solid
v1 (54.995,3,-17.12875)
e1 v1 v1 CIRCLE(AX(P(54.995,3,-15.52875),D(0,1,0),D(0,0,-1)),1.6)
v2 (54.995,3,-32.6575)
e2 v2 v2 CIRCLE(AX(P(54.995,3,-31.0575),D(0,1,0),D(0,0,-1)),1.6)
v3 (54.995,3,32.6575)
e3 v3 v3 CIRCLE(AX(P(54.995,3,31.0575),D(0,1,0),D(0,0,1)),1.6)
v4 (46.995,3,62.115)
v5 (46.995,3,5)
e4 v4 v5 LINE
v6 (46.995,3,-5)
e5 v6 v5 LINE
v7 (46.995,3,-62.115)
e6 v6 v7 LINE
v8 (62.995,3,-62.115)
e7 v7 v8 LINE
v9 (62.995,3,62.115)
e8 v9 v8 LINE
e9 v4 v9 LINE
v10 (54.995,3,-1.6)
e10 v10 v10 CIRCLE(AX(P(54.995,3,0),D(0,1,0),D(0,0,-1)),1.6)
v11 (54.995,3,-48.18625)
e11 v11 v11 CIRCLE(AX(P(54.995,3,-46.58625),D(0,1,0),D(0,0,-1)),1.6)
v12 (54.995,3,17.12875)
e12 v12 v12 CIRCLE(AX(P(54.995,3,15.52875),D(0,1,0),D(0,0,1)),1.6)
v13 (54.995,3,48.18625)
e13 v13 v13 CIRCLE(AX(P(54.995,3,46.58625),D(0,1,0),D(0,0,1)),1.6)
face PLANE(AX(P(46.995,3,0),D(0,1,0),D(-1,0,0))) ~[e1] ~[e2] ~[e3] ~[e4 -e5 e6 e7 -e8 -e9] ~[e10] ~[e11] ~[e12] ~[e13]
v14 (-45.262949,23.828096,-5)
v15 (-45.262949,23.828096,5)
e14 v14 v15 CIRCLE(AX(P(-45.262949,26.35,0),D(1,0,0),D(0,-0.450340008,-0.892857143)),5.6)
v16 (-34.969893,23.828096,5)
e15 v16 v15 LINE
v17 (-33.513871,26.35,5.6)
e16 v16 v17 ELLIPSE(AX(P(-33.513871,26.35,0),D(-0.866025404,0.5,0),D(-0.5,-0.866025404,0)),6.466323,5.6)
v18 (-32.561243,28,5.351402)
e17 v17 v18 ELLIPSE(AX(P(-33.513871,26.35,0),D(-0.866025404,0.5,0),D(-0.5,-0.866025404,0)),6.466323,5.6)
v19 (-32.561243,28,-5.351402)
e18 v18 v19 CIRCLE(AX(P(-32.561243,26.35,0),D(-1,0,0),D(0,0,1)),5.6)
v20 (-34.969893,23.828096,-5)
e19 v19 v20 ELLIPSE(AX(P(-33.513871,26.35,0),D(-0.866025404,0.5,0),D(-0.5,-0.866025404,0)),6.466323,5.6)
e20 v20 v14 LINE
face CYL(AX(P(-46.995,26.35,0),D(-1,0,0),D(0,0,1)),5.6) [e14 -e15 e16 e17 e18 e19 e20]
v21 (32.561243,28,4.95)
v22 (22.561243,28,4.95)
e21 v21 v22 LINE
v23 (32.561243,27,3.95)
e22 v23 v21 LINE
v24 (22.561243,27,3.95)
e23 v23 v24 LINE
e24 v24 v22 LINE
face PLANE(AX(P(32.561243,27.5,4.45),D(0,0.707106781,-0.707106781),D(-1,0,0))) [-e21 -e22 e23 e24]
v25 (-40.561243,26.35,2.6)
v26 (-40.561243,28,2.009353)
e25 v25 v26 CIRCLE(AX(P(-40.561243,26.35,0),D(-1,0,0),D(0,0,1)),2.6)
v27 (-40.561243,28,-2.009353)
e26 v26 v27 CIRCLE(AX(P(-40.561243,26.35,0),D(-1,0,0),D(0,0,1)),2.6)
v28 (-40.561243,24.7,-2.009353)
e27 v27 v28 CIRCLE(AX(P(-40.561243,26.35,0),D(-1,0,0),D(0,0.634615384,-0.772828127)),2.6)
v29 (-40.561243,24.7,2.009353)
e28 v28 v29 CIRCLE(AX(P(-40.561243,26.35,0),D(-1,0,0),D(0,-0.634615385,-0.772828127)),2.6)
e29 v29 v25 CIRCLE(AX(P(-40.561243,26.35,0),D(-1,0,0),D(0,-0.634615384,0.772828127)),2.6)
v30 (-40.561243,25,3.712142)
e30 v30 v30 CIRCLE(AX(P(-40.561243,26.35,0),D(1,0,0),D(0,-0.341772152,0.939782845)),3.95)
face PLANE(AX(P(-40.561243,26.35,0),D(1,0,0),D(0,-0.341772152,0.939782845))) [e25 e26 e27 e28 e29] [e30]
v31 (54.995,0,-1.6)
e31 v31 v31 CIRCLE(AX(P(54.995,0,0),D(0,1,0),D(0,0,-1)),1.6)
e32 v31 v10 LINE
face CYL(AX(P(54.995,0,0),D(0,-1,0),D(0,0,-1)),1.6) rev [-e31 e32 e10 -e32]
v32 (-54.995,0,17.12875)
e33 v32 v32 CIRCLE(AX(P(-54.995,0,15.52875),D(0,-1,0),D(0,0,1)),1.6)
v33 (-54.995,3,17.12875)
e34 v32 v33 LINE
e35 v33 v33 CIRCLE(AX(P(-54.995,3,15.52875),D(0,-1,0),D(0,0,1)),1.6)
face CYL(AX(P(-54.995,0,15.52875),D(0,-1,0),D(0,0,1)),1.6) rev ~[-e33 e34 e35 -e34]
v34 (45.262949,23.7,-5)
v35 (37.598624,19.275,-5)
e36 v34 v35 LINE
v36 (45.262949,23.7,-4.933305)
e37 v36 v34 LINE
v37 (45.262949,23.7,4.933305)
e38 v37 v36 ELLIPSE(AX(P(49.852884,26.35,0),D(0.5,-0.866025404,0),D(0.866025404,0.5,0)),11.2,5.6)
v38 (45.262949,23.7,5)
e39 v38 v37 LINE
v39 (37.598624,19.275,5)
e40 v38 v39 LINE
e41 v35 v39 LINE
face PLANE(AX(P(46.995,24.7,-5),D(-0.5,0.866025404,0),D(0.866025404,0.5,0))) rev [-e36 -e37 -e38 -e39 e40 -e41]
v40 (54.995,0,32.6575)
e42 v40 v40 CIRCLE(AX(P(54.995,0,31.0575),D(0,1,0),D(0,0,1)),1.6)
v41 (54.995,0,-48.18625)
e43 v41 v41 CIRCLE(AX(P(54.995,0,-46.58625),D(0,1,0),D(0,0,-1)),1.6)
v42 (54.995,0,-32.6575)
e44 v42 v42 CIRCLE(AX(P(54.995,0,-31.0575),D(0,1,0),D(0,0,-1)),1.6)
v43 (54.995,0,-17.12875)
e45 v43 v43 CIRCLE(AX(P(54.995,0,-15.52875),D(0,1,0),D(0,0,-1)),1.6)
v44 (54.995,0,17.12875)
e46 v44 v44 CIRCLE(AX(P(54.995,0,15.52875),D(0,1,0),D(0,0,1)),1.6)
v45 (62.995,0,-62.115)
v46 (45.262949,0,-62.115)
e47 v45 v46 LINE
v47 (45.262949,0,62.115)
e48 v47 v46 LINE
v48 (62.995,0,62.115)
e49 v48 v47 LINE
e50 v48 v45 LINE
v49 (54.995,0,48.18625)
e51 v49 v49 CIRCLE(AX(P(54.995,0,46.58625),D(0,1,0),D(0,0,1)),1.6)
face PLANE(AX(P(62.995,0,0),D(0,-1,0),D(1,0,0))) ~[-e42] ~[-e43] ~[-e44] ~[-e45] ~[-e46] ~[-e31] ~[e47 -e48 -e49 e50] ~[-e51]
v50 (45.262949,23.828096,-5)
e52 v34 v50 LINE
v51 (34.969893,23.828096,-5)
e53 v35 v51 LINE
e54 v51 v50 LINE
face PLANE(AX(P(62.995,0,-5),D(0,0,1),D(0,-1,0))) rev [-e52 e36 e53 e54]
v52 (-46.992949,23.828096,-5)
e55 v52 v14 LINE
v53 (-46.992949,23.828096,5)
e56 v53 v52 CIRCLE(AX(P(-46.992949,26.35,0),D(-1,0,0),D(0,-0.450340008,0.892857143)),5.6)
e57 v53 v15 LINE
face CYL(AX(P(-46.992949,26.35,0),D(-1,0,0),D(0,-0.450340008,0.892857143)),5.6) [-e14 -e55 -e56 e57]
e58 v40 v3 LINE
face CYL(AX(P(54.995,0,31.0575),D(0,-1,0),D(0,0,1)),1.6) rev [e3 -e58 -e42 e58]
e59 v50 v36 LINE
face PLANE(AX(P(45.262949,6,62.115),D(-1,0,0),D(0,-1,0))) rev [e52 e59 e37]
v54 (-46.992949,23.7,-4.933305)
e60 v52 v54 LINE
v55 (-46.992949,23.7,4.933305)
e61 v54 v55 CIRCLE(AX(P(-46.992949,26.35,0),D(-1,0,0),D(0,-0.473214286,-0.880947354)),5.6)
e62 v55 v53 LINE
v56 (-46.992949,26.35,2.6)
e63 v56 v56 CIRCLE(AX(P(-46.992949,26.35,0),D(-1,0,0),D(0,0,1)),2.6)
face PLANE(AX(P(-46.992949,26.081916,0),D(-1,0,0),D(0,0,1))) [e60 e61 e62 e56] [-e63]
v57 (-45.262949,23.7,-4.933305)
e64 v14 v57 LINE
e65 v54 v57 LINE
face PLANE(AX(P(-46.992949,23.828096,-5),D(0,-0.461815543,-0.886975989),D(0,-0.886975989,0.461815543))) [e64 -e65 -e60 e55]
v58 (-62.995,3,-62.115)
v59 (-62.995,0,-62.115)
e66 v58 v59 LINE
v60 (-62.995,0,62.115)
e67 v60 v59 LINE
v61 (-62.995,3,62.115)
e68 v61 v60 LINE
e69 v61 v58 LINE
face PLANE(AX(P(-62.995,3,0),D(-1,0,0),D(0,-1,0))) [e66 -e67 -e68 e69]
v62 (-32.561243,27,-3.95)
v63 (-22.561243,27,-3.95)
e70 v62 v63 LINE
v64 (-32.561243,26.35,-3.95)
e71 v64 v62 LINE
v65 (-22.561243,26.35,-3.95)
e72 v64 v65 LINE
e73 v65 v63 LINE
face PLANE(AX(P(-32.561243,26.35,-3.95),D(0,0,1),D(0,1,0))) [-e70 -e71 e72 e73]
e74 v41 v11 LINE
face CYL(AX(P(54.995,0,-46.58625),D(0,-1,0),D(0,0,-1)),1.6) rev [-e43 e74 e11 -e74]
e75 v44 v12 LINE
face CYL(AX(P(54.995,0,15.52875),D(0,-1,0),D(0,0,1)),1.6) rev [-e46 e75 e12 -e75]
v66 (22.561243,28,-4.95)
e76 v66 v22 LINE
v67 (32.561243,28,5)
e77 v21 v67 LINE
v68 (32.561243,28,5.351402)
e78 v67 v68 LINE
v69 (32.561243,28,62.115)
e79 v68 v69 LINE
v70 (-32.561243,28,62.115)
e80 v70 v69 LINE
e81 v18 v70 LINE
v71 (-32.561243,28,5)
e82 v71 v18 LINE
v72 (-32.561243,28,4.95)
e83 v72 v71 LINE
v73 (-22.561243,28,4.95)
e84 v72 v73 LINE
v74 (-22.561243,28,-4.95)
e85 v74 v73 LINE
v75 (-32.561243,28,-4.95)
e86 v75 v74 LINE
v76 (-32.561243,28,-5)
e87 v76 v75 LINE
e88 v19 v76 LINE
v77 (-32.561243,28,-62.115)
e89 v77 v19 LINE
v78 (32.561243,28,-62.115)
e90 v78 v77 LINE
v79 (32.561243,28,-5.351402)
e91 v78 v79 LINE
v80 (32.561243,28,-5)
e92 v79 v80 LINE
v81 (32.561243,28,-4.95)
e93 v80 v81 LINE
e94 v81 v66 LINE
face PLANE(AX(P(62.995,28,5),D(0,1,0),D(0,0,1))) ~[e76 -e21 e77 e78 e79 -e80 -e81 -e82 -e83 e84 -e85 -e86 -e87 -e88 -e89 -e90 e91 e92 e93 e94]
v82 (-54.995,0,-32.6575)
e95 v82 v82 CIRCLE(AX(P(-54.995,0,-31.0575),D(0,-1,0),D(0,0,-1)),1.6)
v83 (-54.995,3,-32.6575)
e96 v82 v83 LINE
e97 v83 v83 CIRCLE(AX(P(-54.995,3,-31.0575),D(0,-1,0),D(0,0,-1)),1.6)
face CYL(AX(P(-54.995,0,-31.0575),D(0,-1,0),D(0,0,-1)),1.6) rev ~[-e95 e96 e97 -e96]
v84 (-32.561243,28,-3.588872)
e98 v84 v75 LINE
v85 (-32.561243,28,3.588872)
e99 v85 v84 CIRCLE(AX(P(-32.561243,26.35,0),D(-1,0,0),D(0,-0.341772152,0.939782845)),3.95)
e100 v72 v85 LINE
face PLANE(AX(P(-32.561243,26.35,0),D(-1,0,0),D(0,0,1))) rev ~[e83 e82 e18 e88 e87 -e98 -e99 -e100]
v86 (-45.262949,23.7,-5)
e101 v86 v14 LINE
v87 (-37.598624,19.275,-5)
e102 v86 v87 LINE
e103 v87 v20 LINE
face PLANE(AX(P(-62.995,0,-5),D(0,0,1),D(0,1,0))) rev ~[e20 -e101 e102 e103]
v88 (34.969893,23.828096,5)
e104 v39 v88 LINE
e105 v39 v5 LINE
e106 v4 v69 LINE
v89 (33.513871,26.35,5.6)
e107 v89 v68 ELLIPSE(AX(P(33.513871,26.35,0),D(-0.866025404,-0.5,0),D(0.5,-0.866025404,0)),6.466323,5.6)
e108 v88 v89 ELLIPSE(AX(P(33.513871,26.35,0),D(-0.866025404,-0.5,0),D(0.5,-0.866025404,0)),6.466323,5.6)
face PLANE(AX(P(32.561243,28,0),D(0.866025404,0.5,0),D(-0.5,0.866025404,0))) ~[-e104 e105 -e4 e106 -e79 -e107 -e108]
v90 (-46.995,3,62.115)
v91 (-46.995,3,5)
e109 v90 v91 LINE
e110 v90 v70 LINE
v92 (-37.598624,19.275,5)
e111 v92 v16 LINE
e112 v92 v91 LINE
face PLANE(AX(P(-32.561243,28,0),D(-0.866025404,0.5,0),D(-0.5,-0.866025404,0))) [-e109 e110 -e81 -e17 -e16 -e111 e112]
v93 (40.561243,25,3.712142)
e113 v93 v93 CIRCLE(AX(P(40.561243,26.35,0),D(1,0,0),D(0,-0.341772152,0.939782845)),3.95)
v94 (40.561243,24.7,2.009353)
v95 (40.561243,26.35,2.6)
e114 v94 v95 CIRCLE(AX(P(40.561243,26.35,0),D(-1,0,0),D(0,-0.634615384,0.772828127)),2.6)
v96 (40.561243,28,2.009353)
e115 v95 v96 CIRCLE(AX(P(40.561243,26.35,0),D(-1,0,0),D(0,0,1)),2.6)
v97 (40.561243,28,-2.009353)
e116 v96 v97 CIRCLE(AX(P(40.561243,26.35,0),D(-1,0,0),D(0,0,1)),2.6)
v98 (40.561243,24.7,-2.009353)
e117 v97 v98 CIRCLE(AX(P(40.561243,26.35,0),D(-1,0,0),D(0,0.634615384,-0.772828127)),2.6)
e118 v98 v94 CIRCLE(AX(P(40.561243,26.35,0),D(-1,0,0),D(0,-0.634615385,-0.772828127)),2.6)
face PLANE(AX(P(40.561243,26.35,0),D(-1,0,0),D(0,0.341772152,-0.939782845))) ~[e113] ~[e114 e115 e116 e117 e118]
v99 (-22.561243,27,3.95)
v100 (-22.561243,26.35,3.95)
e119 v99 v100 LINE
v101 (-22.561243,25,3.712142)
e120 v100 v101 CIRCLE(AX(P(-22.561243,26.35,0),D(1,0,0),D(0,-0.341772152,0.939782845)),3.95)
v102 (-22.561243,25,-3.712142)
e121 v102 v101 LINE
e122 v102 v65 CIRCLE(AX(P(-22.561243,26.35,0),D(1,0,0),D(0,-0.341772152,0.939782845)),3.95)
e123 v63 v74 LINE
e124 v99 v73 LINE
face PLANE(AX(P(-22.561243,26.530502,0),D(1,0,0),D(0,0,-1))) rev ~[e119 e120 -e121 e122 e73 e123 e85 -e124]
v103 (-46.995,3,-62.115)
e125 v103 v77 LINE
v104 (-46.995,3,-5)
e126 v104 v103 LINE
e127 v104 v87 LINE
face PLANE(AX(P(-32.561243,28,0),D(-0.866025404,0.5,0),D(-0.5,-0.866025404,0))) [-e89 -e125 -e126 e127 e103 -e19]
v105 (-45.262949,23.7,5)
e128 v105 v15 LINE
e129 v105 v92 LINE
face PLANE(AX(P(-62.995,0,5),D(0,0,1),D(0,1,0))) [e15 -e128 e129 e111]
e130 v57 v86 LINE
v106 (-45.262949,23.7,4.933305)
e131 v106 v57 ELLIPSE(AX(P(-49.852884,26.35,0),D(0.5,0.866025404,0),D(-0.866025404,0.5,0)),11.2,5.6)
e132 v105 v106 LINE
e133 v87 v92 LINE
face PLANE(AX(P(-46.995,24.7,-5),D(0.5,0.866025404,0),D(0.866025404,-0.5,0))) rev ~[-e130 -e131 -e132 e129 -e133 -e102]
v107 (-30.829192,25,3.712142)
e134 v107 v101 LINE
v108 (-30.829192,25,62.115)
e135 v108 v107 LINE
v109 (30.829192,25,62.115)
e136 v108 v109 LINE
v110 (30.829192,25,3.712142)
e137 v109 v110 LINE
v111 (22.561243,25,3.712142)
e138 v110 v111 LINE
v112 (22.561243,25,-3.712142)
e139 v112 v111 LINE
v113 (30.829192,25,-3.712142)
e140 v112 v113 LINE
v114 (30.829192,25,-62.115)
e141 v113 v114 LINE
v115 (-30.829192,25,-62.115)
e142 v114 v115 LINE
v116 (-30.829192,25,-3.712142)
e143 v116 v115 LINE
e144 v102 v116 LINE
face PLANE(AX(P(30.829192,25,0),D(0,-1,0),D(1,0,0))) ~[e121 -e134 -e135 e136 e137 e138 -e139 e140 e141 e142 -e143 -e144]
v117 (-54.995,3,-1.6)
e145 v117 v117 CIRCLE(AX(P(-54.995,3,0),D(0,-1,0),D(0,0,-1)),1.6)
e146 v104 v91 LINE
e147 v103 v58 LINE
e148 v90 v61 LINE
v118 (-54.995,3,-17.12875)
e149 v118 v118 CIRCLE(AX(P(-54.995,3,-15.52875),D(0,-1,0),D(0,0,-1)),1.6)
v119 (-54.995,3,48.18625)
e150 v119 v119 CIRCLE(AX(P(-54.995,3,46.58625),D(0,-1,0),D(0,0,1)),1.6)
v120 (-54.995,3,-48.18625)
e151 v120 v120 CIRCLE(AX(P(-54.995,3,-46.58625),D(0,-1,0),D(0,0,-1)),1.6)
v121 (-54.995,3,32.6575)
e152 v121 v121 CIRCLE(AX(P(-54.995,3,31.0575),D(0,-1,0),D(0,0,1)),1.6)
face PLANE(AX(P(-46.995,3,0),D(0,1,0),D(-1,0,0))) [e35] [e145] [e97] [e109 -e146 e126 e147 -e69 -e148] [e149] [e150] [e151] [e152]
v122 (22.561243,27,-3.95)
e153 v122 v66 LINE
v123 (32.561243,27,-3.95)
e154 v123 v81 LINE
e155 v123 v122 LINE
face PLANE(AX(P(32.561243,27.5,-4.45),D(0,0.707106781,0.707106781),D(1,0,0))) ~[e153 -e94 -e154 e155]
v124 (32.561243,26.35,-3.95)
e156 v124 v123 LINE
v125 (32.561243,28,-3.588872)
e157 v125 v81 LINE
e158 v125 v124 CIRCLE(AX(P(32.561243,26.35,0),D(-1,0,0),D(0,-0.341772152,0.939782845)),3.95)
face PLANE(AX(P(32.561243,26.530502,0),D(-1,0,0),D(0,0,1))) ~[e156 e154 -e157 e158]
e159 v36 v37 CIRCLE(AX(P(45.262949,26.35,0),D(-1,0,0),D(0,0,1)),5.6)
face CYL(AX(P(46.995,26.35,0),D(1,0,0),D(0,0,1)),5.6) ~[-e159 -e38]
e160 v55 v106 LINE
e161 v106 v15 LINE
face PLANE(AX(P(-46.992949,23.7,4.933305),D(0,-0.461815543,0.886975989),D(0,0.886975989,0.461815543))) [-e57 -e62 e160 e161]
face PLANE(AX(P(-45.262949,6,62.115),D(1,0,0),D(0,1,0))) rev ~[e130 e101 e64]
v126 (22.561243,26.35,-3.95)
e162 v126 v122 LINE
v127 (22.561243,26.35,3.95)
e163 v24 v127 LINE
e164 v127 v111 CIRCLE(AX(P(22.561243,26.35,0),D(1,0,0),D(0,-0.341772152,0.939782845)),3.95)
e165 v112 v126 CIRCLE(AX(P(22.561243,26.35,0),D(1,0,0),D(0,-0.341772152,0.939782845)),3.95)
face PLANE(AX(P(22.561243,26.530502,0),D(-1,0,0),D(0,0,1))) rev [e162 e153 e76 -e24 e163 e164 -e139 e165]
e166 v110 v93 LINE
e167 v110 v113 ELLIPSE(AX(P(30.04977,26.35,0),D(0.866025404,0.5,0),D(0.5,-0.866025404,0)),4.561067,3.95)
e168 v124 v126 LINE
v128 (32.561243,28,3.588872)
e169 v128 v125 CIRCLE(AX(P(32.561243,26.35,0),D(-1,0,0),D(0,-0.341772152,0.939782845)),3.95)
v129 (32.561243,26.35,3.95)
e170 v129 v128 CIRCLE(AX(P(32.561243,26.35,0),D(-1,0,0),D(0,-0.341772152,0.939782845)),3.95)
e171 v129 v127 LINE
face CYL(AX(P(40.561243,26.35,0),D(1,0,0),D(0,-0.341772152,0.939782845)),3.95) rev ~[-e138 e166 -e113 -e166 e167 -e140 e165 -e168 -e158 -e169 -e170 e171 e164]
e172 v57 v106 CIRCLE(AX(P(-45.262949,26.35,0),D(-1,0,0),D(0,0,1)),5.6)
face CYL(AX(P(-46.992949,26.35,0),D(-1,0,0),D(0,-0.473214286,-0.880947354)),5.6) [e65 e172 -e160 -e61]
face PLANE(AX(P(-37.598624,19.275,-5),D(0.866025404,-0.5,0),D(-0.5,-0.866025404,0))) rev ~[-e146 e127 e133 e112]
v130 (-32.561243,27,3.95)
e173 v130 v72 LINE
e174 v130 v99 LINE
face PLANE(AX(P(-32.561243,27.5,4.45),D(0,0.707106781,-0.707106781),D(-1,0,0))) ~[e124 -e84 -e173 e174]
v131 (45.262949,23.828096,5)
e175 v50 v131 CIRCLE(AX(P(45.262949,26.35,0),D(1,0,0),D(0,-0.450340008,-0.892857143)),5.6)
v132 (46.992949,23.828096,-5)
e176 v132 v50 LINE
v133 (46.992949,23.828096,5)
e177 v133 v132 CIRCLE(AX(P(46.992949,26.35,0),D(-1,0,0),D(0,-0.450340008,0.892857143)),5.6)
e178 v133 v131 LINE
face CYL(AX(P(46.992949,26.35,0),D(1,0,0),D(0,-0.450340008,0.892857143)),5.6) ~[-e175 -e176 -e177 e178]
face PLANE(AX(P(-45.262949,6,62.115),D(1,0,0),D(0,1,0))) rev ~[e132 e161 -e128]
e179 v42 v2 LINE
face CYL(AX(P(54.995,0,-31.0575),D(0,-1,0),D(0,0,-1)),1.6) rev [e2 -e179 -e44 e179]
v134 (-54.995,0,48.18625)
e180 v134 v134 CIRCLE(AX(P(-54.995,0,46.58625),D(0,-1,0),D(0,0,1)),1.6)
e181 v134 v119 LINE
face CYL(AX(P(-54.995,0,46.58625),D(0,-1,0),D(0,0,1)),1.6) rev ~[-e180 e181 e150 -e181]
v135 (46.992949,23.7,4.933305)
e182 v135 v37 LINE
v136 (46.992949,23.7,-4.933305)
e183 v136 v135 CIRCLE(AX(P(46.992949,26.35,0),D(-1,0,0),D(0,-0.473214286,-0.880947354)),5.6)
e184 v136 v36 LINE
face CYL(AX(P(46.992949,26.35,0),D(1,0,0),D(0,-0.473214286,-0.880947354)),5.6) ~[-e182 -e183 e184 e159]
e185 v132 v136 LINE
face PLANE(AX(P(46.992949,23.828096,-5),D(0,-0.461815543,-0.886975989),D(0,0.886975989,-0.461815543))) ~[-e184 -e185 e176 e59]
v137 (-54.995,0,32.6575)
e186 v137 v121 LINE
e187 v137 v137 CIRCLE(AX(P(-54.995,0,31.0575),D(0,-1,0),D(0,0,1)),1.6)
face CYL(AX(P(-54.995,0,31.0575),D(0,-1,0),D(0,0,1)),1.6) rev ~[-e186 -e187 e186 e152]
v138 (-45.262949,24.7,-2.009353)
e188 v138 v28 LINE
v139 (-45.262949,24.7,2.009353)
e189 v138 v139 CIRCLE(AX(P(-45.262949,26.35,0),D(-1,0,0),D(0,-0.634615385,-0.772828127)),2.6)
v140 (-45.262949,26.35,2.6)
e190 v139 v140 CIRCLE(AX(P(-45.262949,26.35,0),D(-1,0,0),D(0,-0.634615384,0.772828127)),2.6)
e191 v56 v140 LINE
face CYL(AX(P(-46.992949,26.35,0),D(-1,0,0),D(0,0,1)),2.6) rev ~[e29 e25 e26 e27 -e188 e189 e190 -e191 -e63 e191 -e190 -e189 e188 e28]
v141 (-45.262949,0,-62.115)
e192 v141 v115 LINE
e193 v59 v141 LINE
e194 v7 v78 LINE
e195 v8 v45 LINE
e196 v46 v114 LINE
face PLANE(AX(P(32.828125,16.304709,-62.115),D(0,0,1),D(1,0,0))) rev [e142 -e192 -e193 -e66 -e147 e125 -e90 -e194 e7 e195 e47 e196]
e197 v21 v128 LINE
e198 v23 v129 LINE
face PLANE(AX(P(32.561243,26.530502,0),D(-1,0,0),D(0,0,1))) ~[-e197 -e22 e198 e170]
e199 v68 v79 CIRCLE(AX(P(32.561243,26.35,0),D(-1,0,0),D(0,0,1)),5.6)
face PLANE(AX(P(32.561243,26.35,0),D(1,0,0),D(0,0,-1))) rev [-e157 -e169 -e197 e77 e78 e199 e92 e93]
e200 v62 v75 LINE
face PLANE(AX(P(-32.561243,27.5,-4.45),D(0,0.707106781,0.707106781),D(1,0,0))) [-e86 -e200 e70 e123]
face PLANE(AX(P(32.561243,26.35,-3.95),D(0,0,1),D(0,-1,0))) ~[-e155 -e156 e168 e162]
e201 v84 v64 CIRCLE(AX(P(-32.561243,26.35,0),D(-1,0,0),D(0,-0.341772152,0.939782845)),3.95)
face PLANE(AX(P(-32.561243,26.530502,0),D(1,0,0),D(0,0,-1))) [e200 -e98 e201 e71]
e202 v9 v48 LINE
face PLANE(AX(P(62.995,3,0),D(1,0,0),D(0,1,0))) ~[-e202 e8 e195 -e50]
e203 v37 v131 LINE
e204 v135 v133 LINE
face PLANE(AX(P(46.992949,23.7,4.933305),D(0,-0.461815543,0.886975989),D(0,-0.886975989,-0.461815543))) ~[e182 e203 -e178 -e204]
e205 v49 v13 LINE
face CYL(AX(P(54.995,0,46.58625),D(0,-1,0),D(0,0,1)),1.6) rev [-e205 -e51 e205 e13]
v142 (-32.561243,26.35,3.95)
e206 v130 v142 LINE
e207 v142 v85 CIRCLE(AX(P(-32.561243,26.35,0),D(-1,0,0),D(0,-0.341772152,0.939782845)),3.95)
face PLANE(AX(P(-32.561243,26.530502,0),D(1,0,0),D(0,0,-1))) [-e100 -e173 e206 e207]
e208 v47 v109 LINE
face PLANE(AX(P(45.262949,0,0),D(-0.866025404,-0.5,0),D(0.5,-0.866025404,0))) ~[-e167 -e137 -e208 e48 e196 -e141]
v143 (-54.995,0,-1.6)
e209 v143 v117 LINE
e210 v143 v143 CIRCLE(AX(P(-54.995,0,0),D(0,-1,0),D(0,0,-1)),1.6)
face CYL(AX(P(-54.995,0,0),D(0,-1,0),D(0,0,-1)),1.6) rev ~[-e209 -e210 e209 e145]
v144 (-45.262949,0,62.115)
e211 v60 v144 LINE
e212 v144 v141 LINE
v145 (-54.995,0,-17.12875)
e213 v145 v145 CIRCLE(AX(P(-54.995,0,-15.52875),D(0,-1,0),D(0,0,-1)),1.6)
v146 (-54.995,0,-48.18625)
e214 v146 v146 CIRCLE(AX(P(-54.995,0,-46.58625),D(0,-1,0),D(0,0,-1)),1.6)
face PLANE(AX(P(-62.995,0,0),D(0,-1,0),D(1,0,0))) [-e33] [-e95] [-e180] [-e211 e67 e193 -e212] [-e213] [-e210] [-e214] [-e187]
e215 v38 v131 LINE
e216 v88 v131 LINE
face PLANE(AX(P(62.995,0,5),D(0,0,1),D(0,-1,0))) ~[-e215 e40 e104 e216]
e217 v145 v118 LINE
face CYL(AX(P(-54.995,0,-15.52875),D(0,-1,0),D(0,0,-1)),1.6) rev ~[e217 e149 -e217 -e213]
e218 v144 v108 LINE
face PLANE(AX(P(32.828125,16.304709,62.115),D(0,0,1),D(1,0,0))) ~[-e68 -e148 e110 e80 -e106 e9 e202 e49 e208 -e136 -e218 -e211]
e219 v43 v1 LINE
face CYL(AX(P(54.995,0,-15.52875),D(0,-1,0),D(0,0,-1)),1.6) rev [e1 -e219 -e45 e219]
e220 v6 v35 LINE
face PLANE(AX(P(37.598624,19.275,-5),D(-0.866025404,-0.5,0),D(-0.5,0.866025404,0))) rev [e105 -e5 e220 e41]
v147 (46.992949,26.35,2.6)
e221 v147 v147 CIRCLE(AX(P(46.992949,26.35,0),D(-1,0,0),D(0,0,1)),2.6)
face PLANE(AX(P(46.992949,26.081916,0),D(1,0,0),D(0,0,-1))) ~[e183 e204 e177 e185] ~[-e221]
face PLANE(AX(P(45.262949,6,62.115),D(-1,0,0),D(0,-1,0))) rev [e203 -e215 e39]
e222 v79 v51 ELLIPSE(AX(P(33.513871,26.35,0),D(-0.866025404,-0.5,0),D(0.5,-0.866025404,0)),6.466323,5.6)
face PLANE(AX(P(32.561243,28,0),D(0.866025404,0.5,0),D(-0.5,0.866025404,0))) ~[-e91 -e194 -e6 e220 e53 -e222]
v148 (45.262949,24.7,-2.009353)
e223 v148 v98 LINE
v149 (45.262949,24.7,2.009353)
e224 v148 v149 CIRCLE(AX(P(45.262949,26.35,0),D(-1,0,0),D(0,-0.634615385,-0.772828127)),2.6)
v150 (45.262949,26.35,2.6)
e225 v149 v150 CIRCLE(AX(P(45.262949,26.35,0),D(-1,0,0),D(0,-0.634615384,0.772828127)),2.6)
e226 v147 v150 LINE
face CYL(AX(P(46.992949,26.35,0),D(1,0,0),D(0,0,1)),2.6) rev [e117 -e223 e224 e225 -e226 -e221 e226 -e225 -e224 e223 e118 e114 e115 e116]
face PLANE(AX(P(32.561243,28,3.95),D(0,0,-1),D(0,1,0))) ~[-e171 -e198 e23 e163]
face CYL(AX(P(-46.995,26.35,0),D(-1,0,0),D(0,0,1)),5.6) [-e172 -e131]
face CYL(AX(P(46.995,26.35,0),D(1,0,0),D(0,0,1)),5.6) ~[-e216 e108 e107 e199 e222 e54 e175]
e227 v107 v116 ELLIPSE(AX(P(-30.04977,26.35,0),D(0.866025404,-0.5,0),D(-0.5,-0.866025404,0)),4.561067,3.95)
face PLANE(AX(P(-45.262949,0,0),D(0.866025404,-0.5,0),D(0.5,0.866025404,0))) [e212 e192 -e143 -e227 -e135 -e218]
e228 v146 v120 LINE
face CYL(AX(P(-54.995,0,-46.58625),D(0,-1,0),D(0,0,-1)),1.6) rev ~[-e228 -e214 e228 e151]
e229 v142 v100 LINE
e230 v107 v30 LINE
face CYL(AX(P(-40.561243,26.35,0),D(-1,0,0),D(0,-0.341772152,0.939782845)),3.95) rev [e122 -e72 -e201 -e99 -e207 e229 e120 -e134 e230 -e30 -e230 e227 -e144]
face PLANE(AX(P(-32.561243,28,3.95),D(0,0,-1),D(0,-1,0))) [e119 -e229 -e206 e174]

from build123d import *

# Parameters (mm, degrees)
EXTRUDE_1_DEPTH          = 62.115
EXTRUDE_START            = -62.995
SKETCH_2_W               = 10
SKETCH_2_H               = 28
EXTRUDE_2_DEPTH          = 62.995
CUT_EXTRUDE_1_DEPTH      = 10
SKETCH_4_R               = 1.6
CUT_EXTRUDE_2_DEPTH      = 3
CUT_EXTRUDE_3_DEPTH      = 10
SKETCH_6_R               = 5.6
SKETCH_6_R_2             = 2.6
EXTRUDE_3_DEPTH          = 14.433757
CUT_EXTRUDE_4_DEPTH      = 20
CUT_EXTRUDE_5_DEPTH      = 10
CUT_EXTRUDE_5_DEPTH_BACK = 8
SKETCH_7_R               = 3.95
CUT_EXTRUDE_START        = 10
CUT_EXTRUDE_6_DEPTH      = 10
CHAMFER_1_SIZE           = 1
CUT_EXTRUDE_7_DEPTH      = 10
CUT_EXTRUDE_8_DEPTH      = 143.906491892
EXTRUDE_START_2          = 1.73
SKETCH_10_R              = 2.6
EXTRUDE_4_DEPTH          = 1.73


with BuildPart() as part:
    # Эскиз1 → Бобышка-Вытянуть1 (new, symmetric)
    with BuildSketch(Plane.XY):
        Polygon((-62.995, 0), (-45.262949192, 0), (-30.829192463, 25), (0, 25), (0, 28), (-32.56124327, 28), (-46.995, 3), (-62.995, 3), align=None)
    extrude(amount=EXTRUDE_1_DEPTH, both=True)

    # Эскиз2 → Бобышка-Вытянуть2 (add)
    with BuildSketch(Plane(origin=(0, 0, 0), x_dir=(0, 0, -1), z_dir=(1, 0, 0)).offset(EXTRUDE_START)):
        with Locations((0, 14)):
            Rectangle(SKETCH_2_W, SKETCH_2_H)
    extrude(amount=EXTRUDE_2_DEPTH)

    # Эскиз3 → Вырез-Вытянуть1 (cut)
    with BuildSketch(Plane.XY.offset(5)):
        Polygon((0, 25), (0, 0), (-45.262949192, 0), (-30.829192463, 25), align=None)
    extrude(amount=-CUT_EXTRUDE_1_DEPTH, mode=Mode.SUBTRACT)

    # Эскиз4 → Вырез-Вытянуть2 (cut)
    with BuildSketch(Plane.XZ):
        with Locations(Location((-54.995, 0, 0), (0, 0, 270))):
            Circle(SKETCH_4_R)
        with Locations(Location((-54.995, -15.52875, 0), (0, 0, 270))):
            Circle(SKETCH_4_R)
        with Locations(Location((-54.995, -31.0575, 0), (0, 0, 270))):
            Circle(SKETCH_4_R)
        with Locations(Location((-54.995, -46.58625, 0), (0, 0, 270))):
            Circle(SKETCH_4_R)
        with Locations(Location((-54.995, 46.58625, 0), (0, 0, 90))):
            Circle(SKETCH_4_R)
        with Locations(Location((-54.995, 31.0575, 0), (0, 0, 90))):
            Circle(SKETCH_4_R)
        with Locations(Location((-54.995, 15.52875, 0), (0, 0, 90))):
            Circle(SKETCH_4_R)
    extrude(amount=-CUT_EXTRUDE_2_DEPTH, mode=Mode.SUBTRACT)

    # Эскиз5 → Вырез-Вытянуть3 (cut)
    with BuildSketch(Plane(origin=(0, 0, -5), x_dir=(-1, 0, 0), z_dir=(0, 0, -1))):
        Polygon((46.995, 3), (62.995, 3), (62.995, 28), (46.995, 28), (46.995, 24.7), (37.598624369, 19.275), align=None)
    extrude(amount=-CUT_EXTRUDE_3_DEPTH, mode=Mode.SUBTRACT)

    # Эскиз6 → Бобышка-Вытянуть3 (add)
    with BuildSketch(Plane.ZY.offset(46.995)):
        with Locations((0, 26.35)):
            Circle(SKETCH_6_R)
        with Locations((0, 26.35)):
            Circle(SKETCH_6_R_2, mode=Mode.SUBTRACT)
    extrude(amount=-EXTRUDE_3_DEPTH)

    # Эскиз6<2> → Вырез-Вытянуть4 (cut)
    with BuildSketch(Plane.ZY.offset(46.995)):
        with BuildLine():
            Line((-2.00935313, 28), (0, 28))
            Line((0, 28), (2.00935313, 28))
            ThreePointArc((2.00935313, 28), (0, 28.95), (-2.00935313, 28))
        make_face()
        with BuildLine():
            Line((-2.00935313, 24.7), (0, 24.7))
            Line((0, 24.7), (0, 28))
            Line((0, 28), (-2.00935313, 28))
            ThreePointArc((-2.00935313, 28), (-2.6, 26.35), (-2.00935313, 24.7))
        make_face()
        with BuildLine():
            Line((0, 28), (0, 24.7))
            Line((0, 24.7), (2.00935313, 24.7))
            ThreePointArc((2.00935313, 24.7), (2.447888696, 25.473734668), (2.6, 26.35))
            ThreePointArc((2.6, 26.35), (2.447888696, 27.226265332), (2.00935313, 28))
            Line((2.00935313, 28), (0, 28))
        make_face()
        with BuildLine():
            Line((2.00935313, 24.7), (0, 24.7))
            Line((0, 24.7), (-2.00935313, 24.7))
            ThreePointArc((-2.00935313, 24.7), (0, 23.75), (2.00935313, 24.7))
        make_face()
    extrude(amount=-CUT_EXTRUDE_4_DEPTH, mode=Mode.SUBTRACT)

    # Эскиз7 → Вырез-Вытянуть5 (cut, two sides: drawn at the far end of the back side and taken through both)
    with BuildSketch(Plane(origin=(-32.56124327, 0, 0), x_dir=(0, 0, -1), z_dir=(1, 0, 0)).offset(-CUT_EXTRUDE_5_DEPTH_BACK)):
        with Locations(Location((0, 26.35, 0), (0, 0, 199.984879971))):
            Circle(SKETCH_7_R)
    extrude(amount=CUT_EXTRUDE_5_DEPTH + CUT_EXTRUDE_5_DEPTH_BACK, mode=Mode.SUBTRACT)

    # Эскиз8 → Вырез-Вытянуть6 (cut)
    with BuildSketch(Plane.ZY.offset(22.56124327).offset(CUT_EXTRUDE_START)):
        with BuildLine():
            Line((-3.95, 26.35), (-3.95, 28))
            Line((-3.95, 28), (3.95, 28))
            Line((3.95, 28), (3.95, 26.35))
            ThreePointArc((3.95, 26.35), (3.890081094, 25.664602977), (3.712142239, 25))
            Line((3.712142239, 25), (-3.712142239, 25))
            ThreePointArc((-3.712142239, 25), (-3.890081094, 25.664602977), (-3.95, 26.35))
        make_face()
    extrude(amount=-CUT_EXTRUDE_6_DEPTH, mode=Mode.SUBTRACT)

    # Фаска1
    chamfer_1_edges = [part.edges().sort_by_distance(p)[0] for p in [
        (-27.56124327, 28, 3.95),
        (-27.56124327, 28, -3.95),
    ]]
    chamfer(chamfer_1_edges, length=CHAMFER_1_SIZE)

    # Эскиз3<2> → Вырез-Вытянуть7 (cut)
    with BuildSketch(Plane.XY.offset(5)):
        Polygon((0, 25), (0, 0), (-45.262949192, 0), (-30.829192463, 25), align=None)
    extrude(amount=-CUT_EXTRUDE_7_DEPTH, mode=Mode.SUBTRACT)

    # Эскиз9 → Вырез-Вытянуть8 (cut, through all)
    with BuildSketch(Plane.XY.offset(62.115)):
        Polygon((-45.262949192, 6), (-45.262949192, 31.95), (-62.995, 31.95), (-62.995, 3), (-46.995, 3), align=None)
    extrude(amount=-CUT_EXTRUDE_8_DEPTH, mode=Mode.SUBTRACT)

    # Эскиз10 → Бобышка-Вытянуть4 (add)
    with BuildSketch(Plane.ZY.offset(45.262949192).offset(EXTRUDE_START_2)):
        with BuildLine():
            Line((-5, 23.828095957), (-4.93330518, 23.7))
            ThreePointArc((-4.93330518, 23.7), (0, 20.75), (4.93330518, 23.7))
            Line((4.93330518, 23.7), (5, 23.828095957))
            ThreePointArc((5, 23.828095957), (0, 31.95), (-5, 23.828095957))
        make_face()
        with Locations((0, 26.35)):
            Circle(SKETCH_10_R, mode=Mode.SUBTRACT)
    extrude(amount=-EXTRUDE_4_DEPTH)

    # Зеркальное отражение1: part across plane


with BuildPart() as part_1:
    add(part.part)
    add(part.part.mirror(Plane(origin=(0, 25, 62.115), x_dir=(0, 0, 1), z_dir=(-1, 0, 0))))


solid = part_1.part
